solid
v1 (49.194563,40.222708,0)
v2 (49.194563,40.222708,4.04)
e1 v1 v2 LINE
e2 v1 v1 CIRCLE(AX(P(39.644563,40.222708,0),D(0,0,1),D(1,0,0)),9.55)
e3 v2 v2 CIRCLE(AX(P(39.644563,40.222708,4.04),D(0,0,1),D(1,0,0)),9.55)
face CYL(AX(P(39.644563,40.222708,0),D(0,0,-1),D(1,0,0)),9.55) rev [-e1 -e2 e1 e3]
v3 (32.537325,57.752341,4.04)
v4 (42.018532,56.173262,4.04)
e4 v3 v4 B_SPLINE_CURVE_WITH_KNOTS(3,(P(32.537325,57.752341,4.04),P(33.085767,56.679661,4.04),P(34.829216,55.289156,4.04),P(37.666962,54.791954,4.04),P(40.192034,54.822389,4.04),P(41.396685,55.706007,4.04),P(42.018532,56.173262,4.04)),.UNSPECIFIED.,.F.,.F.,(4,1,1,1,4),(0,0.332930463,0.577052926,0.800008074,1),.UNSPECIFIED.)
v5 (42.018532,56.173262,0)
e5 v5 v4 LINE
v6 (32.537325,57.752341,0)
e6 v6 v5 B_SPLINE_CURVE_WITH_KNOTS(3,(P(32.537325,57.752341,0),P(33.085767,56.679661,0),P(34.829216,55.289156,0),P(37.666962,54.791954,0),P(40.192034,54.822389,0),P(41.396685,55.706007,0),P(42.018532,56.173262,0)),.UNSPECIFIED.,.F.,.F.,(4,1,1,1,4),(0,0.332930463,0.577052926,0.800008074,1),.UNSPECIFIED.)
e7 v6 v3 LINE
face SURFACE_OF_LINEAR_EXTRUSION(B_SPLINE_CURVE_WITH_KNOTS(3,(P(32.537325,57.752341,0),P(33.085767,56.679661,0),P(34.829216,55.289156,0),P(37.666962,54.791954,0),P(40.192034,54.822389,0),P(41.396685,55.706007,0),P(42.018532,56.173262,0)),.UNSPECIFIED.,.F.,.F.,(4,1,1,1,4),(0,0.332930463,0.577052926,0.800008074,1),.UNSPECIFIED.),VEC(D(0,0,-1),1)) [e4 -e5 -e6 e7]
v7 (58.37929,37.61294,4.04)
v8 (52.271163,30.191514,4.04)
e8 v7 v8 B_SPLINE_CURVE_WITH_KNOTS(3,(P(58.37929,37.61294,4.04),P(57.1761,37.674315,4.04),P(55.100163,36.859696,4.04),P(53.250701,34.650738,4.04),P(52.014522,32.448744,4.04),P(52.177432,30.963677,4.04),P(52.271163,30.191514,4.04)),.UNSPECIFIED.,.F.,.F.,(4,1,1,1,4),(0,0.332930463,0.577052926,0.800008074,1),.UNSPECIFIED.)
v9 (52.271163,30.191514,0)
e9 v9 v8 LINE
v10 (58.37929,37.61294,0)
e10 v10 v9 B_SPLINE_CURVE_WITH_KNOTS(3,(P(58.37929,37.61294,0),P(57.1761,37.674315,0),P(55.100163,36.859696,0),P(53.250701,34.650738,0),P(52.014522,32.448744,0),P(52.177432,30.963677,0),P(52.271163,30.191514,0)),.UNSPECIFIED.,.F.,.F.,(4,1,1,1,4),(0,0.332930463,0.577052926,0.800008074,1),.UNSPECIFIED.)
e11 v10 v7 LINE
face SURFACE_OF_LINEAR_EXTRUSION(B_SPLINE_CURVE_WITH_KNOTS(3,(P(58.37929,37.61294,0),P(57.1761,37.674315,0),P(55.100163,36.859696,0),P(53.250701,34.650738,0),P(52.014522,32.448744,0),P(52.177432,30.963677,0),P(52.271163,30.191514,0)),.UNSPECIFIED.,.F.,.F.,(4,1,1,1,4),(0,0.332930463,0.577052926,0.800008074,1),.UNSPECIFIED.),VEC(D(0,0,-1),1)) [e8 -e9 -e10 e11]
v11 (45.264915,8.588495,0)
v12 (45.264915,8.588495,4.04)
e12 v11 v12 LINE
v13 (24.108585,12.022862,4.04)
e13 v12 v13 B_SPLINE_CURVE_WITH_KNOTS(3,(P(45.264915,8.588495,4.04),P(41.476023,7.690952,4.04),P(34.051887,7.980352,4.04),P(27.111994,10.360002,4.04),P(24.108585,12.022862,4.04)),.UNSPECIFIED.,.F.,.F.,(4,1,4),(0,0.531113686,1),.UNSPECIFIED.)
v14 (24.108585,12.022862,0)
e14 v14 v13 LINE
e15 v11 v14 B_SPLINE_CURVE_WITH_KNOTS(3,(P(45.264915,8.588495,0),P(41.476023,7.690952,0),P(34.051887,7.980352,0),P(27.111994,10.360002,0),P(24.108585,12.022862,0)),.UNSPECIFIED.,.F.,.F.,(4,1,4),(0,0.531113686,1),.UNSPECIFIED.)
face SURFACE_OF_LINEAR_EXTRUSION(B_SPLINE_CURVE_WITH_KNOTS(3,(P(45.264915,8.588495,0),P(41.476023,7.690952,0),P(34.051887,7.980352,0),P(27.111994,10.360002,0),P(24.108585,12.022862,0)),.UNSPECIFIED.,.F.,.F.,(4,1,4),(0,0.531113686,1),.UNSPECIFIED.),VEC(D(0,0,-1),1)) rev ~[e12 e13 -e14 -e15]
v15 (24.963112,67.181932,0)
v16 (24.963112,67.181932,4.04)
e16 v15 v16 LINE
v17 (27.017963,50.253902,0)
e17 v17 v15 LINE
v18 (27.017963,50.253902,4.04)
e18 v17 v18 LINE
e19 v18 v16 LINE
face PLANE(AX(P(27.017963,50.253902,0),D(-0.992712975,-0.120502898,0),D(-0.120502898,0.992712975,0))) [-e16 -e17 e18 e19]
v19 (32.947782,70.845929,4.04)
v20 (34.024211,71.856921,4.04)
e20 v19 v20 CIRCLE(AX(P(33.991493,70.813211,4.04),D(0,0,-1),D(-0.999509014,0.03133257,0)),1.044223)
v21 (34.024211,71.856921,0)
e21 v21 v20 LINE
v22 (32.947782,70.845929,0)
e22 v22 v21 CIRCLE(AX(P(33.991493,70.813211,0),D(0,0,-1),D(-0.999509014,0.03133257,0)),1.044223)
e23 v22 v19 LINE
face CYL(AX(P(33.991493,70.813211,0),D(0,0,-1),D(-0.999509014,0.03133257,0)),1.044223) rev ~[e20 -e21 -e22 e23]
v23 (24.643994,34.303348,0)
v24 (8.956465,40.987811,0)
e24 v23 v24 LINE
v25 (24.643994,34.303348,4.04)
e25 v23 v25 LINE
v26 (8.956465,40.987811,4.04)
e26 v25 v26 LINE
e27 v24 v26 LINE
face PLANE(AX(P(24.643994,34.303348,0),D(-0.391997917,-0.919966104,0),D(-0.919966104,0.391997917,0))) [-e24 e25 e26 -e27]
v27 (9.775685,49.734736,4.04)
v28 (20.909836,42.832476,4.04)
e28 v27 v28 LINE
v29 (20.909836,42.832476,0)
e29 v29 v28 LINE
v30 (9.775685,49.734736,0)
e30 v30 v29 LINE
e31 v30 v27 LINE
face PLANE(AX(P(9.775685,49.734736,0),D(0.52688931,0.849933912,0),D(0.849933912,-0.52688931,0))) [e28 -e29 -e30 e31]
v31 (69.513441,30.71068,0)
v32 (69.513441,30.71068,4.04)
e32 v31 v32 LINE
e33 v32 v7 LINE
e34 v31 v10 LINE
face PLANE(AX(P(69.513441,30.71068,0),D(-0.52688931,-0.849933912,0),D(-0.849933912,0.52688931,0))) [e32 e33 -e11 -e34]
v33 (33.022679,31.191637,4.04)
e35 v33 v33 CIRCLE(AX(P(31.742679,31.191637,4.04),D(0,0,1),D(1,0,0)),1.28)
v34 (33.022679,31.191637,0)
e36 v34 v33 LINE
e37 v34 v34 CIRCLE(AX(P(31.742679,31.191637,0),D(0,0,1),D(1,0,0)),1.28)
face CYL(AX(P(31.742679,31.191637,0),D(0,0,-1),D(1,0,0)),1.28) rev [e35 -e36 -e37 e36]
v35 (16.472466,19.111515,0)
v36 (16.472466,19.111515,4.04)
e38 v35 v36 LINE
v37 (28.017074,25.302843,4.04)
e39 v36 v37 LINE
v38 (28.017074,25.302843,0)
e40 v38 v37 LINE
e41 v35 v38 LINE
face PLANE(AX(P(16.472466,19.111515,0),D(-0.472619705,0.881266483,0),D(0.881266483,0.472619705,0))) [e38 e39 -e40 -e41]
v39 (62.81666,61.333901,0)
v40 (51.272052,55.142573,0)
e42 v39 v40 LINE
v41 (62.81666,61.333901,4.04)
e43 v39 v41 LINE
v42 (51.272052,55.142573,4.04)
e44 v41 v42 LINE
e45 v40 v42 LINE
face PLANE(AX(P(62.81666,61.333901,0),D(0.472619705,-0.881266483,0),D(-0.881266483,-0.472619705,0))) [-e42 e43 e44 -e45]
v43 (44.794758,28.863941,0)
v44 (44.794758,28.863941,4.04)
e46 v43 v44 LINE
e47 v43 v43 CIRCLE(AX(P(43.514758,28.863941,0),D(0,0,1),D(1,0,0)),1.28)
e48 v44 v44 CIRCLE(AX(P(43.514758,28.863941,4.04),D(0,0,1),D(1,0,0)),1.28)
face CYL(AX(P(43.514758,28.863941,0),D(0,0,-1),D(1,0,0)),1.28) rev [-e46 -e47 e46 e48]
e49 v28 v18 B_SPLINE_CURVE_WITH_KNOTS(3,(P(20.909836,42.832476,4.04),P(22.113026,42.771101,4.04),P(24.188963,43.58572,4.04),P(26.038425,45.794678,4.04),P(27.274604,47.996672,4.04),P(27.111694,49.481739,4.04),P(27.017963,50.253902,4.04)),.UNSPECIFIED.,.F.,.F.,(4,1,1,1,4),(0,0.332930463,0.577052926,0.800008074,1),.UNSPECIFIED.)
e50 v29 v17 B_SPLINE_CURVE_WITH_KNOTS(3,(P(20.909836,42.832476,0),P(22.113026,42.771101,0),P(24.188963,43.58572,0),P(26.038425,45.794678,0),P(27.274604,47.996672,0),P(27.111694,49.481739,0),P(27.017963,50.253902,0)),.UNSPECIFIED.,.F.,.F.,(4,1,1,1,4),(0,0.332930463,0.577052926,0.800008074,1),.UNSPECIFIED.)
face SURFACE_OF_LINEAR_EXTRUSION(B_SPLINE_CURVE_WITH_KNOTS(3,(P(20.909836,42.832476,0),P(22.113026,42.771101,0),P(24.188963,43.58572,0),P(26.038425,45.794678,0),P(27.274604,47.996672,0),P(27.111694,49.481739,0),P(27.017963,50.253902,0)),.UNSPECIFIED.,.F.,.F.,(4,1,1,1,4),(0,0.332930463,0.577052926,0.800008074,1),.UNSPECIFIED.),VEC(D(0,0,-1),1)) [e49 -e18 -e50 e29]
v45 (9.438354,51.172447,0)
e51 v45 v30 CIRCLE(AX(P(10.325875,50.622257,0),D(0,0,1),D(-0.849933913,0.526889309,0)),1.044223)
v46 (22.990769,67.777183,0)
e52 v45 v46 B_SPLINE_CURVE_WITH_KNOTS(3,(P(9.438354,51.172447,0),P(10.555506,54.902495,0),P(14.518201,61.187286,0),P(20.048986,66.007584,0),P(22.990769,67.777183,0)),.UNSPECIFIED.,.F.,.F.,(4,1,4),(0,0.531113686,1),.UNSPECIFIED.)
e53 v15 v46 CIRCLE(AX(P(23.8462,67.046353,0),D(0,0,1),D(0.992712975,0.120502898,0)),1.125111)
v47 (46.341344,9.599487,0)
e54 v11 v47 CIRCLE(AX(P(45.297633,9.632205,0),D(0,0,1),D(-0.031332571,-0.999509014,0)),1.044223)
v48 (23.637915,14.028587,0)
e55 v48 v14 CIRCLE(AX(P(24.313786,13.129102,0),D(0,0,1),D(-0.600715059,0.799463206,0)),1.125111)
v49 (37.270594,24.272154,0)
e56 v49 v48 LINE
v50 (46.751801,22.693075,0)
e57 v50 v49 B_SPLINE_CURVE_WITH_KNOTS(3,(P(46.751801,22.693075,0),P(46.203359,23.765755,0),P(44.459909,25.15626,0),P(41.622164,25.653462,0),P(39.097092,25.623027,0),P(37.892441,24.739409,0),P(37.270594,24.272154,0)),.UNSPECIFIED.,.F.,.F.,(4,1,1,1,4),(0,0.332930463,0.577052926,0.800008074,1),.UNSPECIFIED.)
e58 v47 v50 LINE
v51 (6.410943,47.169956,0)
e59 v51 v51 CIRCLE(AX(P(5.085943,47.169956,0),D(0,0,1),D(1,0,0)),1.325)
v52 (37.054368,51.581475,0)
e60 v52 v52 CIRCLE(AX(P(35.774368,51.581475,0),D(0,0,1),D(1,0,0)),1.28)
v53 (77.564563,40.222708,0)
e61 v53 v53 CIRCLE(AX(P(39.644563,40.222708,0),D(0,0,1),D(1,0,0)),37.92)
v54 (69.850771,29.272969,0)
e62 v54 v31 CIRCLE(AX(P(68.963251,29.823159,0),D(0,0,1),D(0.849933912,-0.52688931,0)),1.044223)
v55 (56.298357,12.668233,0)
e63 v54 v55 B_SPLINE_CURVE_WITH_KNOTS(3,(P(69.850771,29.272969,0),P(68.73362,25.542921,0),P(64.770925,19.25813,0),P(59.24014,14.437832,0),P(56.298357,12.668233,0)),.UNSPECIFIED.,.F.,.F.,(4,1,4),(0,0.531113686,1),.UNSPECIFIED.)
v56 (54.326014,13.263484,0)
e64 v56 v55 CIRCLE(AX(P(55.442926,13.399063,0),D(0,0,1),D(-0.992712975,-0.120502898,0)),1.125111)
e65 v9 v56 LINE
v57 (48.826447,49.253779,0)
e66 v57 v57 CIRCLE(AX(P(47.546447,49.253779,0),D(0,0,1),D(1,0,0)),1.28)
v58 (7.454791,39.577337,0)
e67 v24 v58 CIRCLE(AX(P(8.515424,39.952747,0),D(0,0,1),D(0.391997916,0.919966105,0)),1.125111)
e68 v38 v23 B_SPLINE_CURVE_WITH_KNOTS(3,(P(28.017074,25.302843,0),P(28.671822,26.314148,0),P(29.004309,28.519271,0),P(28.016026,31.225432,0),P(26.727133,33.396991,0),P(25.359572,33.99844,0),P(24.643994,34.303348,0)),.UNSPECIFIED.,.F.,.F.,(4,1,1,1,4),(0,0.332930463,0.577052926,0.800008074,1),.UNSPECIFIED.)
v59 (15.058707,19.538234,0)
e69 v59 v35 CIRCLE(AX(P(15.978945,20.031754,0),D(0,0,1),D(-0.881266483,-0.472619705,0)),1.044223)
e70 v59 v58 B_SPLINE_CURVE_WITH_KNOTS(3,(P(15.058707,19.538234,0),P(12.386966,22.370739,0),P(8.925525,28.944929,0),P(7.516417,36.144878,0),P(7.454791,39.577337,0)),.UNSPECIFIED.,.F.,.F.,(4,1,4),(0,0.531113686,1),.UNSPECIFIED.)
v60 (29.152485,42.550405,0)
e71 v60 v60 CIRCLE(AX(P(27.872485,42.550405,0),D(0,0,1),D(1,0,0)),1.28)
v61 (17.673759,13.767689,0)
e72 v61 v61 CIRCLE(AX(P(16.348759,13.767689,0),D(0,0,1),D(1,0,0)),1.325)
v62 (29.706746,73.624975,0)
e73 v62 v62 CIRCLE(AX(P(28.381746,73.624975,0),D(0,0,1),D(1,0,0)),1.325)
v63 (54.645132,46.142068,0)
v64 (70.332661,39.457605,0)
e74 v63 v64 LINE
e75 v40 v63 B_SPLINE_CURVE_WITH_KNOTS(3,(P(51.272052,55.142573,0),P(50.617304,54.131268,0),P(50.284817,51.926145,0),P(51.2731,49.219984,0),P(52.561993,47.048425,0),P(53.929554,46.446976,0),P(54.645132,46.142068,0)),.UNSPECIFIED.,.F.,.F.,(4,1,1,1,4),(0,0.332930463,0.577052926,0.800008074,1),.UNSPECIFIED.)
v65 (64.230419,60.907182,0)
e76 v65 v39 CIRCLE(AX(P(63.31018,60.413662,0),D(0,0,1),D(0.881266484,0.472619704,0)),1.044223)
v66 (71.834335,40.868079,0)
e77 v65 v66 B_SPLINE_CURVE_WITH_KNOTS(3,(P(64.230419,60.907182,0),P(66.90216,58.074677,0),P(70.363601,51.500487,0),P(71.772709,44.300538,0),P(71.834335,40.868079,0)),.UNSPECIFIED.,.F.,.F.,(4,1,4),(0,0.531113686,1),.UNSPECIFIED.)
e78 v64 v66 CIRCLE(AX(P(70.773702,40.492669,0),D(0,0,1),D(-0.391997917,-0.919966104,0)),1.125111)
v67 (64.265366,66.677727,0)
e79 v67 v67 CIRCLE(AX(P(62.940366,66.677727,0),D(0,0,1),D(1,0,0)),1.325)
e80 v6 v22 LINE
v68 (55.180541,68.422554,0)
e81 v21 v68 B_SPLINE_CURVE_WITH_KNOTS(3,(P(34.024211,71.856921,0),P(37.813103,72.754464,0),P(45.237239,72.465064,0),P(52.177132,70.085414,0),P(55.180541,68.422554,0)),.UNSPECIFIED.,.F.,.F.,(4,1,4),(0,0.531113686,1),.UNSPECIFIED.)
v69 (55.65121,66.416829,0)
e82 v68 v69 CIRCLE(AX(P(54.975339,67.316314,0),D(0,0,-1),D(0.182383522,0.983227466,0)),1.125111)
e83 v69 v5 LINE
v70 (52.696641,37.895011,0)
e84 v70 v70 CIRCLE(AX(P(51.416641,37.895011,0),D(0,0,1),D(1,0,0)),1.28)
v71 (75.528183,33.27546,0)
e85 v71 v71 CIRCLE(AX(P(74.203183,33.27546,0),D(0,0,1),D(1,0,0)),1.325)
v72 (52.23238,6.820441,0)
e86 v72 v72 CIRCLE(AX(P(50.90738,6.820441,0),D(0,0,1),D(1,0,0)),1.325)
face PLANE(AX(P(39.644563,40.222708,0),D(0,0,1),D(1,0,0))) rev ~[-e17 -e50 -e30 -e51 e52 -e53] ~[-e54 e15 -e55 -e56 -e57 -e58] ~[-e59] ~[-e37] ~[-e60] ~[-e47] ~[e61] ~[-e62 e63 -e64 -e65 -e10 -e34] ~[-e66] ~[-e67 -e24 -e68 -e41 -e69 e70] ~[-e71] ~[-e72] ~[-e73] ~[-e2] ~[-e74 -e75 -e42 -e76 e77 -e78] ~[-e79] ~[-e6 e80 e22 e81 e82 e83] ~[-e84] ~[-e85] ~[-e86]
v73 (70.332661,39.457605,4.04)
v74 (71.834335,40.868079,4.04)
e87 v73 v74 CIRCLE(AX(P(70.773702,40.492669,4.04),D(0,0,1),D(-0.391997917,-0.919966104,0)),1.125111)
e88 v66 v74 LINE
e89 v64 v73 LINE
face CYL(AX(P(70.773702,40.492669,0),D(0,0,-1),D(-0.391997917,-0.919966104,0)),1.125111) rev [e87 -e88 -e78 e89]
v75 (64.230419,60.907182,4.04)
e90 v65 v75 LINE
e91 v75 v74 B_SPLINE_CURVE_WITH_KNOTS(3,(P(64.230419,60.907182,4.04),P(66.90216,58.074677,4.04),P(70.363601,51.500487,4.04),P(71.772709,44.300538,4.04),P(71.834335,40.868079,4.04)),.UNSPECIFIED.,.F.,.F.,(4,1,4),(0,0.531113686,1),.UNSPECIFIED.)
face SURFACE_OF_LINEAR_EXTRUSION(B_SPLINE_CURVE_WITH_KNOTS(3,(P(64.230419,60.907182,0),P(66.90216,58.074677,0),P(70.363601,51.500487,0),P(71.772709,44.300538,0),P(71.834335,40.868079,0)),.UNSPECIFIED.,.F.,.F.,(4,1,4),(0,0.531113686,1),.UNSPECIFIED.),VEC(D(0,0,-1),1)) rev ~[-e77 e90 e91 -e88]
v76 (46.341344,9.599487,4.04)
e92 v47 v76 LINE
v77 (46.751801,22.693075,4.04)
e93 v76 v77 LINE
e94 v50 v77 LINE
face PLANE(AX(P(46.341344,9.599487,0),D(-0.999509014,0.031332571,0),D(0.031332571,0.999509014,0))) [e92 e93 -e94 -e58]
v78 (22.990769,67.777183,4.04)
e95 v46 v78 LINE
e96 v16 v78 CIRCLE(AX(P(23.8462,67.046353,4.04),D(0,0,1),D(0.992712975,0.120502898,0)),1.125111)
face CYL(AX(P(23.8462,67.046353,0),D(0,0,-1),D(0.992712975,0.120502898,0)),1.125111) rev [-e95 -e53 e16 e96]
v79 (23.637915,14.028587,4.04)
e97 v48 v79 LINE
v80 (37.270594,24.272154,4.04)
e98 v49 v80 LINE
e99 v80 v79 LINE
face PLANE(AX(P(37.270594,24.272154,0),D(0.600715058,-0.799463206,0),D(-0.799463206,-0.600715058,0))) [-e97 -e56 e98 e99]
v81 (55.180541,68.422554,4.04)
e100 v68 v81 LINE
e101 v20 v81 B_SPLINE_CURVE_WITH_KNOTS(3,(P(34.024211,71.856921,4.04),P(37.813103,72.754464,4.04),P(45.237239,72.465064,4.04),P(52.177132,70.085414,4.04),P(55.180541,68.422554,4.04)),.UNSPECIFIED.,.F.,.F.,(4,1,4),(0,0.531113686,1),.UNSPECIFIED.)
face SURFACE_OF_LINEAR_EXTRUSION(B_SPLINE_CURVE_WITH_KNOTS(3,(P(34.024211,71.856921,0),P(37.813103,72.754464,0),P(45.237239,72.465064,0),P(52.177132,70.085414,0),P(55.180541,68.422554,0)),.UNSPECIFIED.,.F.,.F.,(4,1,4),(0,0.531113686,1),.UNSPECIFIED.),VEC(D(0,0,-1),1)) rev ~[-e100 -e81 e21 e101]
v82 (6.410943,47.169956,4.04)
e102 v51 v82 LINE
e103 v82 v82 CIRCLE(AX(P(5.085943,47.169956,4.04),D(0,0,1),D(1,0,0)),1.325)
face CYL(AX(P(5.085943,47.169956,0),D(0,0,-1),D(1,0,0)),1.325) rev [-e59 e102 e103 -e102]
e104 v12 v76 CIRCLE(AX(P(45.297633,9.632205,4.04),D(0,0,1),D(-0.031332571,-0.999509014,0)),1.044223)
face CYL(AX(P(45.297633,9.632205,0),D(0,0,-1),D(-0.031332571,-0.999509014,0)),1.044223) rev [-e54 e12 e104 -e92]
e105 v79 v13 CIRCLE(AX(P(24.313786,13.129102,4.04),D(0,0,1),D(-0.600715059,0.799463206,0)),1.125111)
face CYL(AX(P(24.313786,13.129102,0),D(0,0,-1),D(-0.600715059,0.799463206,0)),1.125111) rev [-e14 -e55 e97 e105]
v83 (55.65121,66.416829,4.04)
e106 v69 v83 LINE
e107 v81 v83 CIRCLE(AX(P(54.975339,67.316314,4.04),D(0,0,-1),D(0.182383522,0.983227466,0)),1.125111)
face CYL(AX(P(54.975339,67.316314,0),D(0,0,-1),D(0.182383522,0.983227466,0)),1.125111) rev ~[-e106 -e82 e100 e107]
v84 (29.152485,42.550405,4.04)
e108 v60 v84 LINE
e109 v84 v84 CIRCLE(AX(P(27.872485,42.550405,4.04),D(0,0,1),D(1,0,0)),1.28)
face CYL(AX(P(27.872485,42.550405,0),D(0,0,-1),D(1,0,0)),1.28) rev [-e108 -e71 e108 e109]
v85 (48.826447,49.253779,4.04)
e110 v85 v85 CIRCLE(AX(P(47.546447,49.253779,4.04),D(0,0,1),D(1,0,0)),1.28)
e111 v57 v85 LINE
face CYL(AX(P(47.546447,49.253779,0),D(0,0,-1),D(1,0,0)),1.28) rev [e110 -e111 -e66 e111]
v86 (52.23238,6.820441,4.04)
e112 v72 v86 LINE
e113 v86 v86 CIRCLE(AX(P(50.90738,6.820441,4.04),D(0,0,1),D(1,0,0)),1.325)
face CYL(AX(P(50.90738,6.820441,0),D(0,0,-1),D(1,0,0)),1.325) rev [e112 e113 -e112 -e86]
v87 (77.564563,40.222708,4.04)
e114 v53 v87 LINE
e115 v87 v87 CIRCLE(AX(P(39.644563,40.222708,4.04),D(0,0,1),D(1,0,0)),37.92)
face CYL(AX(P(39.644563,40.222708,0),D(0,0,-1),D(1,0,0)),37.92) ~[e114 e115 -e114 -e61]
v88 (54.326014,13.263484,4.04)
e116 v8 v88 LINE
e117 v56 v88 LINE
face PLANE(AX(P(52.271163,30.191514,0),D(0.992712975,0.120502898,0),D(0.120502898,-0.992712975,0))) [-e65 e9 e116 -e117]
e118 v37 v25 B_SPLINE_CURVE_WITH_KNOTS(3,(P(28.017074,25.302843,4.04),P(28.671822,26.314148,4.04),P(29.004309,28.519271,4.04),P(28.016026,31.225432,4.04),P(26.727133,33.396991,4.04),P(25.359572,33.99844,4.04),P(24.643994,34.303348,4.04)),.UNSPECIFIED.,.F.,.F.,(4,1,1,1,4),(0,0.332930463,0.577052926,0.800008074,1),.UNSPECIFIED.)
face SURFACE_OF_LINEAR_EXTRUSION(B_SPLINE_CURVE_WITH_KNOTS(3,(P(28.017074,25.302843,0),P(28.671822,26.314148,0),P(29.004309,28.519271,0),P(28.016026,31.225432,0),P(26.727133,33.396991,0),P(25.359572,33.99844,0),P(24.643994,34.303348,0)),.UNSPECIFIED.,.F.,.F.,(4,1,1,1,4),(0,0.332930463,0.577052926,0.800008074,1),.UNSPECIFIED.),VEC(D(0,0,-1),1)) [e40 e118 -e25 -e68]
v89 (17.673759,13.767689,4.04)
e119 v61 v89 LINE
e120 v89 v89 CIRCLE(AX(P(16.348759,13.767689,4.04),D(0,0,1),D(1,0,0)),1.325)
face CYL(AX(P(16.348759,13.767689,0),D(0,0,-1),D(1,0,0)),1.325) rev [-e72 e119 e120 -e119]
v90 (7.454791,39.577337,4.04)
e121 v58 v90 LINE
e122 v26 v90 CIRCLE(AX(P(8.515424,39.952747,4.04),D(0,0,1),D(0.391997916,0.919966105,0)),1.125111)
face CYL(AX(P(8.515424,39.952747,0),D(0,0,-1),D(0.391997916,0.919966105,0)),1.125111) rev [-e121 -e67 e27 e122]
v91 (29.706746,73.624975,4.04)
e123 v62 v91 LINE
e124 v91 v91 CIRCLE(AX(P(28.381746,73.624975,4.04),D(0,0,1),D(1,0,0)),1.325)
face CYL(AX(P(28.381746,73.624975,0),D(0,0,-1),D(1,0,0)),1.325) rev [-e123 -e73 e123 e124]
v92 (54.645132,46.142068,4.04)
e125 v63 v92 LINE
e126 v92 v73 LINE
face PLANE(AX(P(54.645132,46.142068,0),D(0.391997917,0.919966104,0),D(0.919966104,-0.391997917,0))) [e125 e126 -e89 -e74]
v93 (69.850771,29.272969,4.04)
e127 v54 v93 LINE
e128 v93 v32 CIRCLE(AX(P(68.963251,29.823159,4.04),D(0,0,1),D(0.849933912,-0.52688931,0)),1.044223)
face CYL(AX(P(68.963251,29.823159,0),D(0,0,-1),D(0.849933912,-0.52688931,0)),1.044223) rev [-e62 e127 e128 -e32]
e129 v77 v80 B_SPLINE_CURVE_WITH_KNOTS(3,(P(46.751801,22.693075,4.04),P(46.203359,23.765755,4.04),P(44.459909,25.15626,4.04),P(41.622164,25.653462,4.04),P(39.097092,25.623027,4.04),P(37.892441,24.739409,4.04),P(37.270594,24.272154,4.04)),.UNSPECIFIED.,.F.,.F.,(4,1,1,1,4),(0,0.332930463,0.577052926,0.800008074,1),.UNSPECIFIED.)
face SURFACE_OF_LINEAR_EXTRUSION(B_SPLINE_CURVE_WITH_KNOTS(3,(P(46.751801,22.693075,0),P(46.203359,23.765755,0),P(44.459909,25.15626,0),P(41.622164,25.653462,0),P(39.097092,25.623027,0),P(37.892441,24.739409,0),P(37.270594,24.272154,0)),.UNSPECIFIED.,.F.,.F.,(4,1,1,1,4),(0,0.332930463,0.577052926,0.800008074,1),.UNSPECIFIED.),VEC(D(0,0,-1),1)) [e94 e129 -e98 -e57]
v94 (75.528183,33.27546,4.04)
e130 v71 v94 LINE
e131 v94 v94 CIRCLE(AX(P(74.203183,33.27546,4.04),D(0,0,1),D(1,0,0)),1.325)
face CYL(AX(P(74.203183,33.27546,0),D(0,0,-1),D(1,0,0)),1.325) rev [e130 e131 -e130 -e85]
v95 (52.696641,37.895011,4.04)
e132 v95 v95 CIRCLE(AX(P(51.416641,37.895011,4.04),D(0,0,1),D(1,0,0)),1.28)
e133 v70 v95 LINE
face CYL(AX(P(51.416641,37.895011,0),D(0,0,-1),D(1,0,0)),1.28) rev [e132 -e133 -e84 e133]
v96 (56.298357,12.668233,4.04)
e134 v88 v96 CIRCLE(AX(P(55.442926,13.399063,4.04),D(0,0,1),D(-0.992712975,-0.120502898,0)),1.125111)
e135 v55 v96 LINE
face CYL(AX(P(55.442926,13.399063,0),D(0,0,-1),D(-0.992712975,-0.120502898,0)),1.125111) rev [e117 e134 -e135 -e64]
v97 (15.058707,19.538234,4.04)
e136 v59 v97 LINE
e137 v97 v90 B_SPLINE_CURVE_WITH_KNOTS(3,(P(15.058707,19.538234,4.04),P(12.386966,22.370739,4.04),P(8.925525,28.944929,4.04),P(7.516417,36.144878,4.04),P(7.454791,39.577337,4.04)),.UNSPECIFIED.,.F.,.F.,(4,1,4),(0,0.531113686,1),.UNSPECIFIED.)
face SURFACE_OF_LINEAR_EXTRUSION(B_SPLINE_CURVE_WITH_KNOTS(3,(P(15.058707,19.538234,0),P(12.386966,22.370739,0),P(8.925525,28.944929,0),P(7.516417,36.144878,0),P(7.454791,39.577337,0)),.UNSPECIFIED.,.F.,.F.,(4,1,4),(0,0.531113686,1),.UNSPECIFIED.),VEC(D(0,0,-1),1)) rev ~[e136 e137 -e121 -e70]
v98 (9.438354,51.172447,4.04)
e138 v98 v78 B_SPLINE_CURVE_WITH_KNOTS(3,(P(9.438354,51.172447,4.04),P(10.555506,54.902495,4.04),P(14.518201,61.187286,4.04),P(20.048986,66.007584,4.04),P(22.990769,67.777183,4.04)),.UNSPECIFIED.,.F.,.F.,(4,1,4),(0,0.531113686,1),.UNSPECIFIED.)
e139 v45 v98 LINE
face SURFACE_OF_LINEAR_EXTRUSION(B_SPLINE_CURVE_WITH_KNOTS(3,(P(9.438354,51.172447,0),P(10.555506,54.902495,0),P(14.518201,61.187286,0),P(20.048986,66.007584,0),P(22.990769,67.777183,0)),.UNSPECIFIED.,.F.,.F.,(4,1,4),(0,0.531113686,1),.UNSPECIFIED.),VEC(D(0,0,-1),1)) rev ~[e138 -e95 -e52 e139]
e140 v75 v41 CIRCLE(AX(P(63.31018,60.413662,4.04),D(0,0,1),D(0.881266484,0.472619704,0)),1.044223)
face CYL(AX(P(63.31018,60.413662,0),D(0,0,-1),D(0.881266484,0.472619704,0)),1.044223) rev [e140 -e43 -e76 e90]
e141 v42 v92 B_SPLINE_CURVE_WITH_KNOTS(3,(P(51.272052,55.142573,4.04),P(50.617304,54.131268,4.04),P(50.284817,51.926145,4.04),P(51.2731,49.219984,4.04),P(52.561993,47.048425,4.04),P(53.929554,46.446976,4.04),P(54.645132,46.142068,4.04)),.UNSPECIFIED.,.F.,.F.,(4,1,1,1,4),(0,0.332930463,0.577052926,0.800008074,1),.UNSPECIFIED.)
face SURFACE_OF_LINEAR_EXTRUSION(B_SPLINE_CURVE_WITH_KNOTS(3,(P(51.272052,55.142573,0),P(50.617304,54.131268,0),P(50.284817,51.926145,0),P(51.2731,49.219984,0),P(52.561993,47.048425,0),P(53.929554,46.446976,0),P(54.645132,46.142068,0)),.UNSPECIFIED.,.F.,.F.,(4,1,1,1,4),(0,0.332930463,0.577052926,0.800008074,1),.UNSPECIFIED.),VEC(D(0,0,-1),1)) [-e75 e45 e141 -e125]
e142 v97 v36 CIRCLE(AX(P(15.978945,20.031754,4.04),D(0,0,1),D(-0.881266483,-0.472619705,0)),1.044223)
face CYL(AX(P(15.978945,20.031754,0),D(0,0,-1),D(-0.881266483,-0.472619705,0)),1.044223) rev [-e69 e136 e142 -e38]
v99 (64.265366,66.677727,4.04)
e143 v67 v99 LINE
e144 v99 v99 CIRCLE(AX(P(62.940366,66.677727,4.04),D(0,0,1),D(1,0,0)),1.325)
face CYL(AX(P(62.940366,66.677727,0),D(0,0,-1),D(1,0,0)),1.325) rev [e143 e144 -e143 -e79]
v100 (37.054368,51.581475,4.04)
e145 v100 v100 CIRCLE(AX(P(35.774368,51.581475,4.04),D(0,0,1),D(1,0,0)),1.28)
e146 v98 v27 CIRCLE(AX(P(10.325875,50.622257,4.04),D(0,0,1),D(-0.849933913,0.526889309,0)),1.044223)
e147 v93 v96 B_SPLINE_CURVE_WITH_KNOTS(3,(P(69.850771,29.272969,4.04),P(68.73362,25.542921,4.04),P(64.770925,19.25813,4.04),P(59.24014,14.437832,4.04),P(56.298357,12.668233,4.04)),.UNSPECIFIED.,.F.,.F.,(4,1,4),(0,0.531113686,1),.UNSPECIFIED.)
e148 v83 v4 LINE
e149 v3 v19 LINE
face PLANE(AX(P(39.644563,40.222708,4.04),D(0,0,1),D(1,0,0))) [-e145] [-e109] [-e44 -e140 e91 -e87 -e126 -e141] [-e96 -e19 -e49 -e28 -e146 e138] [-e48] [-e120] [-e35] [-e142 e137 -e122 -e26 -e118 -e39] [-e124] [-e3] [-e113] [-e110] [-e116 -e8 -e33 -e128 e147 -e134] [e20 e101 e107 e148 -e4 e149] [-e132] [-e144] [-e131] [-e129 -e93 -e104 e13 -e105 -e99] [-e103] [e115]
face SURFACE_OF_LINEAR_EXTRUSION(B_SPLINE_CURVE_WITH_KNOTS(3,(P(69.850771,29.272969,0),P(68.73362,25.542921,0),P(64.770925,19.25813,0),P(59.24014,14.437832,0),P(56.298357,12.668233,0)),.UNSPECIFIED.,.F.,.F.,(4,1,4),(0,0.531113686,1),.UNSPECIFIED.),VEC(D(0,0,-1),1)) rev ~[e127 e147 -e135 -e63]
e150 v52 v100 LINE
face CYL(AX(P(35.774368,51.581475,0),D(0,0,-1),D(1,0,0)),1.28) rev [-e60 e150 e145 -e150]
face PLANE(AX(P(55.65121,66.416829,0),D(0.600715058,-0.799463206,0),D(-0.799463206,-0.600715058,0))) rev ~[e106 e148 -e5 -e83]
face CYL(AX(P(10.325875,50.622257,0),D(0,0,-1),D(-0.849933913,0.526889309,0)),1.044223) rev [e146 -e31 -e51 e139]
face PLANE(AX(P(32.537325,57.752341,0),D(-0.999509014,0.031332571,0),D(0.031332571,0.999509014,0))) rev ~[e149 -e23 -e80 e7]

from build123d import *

# Parameters (mm, degrees)
SCHIZZO1_R                   = 37.92
SCHIZZO1_R_2                 = 1.325
SCHIZZO1_R_3                 = 9.55
SCHIZZO1_R_4                 = 1.28
ESTRUSIONE_ESTRUSIONE1_DEPTH = 4.04


with BuildPart() as part:
    # Schizzo1 → Estrusione-Estrusione1 (new body)
    with BuildSketch(Plane.XY):
        with Locations((39.644562935, 40.222708022)):
            Circle(SCHIZZO1_R)
        with Locations((28.381746106, 73.624975266)):
            Circle(SCHIZZO1_R_2, mode=Mode.SUBTRACT)
        with Locations((39.644562935, 40.222708022)):
            Circle(SCHIZZO1_R_3, mode=Mode.SUBTRACT)
        with Locations((35.774368233, 51.581475251)):
            Circle(SCHIZZO1_R_4, mode=Mode.SUBTRACT)
        with Locations((47.546446561, 49.253778566)):
            Circle(SCHIZZO1_R_4, mode=Mode.SUBTRACT)
        with Locations((62.940366498, 66.677727137)):
            Circle(SCHIZZO1_R_2, mode=Mode.SUBTRACT)
        with Locations((51.416641262, 37.895011337)):
            Circle(SCHIZZO1_R_4, mode=Mode.SUBTRACT)
        with Locations((74.203183328, 33.275459892)):
            Circle(SCHIZZO1_R_2, mode=Mode.SUBTRACT)
        with Locations((43.514757637, 28.863940793)):
            Circle(SCHIZZO1_R_4, mode=Mode.SUBTRACT)
        with Locations((50.907379765, 6.820440778)):
            Circle(SCHIZZO1_R_2, mode=Mode.SUBTRACT)
        with Locations((31.74267931, 31.191637478)):
            Circle(SCHIZZO1_R_4, mode=Mode.SUBTRACT)
        with Locations((16.348759372, 13.767688907)):
            Circle(SCHIZZO1_R_2, mode=Mode.SUBTRACT)
        with Locations((27.872484608, 42.550404707)):
            Circle(SCHIZZO1_R_4, mode=Mode.SUBTRACT)
        with Locations((5.085942543, 47.169956152)):
            Circle(SCHIZZO1_R_2, mode=Mode.SUBTRACT)
        with BuildLine():
            Line((32.537324842, 57.752341263), (32.947782143, 70.845929152))
            ThreePointArc((32.947782143, 70.845929152), (33.276613104, 71.574360929), (34.024210756, 71.856921375))
            add(Edge.make_bspline(
                [(34.024210756, 71.856921375), (37.813103061, 72.754463636), (45.237238781, 72.465064372), (52.177131888, 70.085413797), (55.180541117, 68.422554037)],
                knots=[0, 0, 0, 0, 0.531113686, 1, 1, 1, 1], degree=3))
            ThreePointArc((55.180541117, 68.422554037), (56.070695624, 67.573353666), (55.651210487, 66.416829331))
            Line((55.651210487, 66.416829331), (42.018531755, 56.173261728))
            add(Edge.make_bspline(
                [(32.537324842, 57.752341263), (33.085767208, 56.679660611), (34.829216379, 55.289156312), (37.666961886, 54.791954013), (40.192033726, 54.822389026), (41.396684563, 55.706006988), (42.018531755, 56.173261728)],
                knots=[0, 0, 0, 0, 0.332930463, 0.577052926, 0.800008074, 1, 1, 1, 1], degree=3))
        make_face(mode=Mode.SUBTRACT)
        with BuildLine():
            Line((54.645132059, 46.142067569), (70.332661194, 39.457605267))
            ThreePointArc((70.332661194, 39.457605267), (71.543983217, 39.67258265), (71.834335058, 40.868079251))
            add(Edge.make_bspline(
                [(64.230419238, 60.907182464), (66.902159789, 58.074676605), (70.363600535, 51.500486839), (71.772709238, 44.300537822), (71.834335058, 40.868079251)],
                knots=[0, 0, 0, 0, 0.531113686, 1, 1, 1, 1], degree=3))
            ThreePointArc((64.230419238, 60.907182464), (63.611915888, 61.413340799), (62.816659984, 61.333900877))
            Line((62.816659984, 61.333900877), (51.272051595, 55.142573382))
            add(Edge.make_bspline(
                [(51.272051595, 55.142573382), (50.617304082, 54.131268034), (50.284816621, 51.926144612), (51.273099553, 49.219983765), (52.561992967, 47.048424911), (53.929553988, 46.446975665), (54.645132059, 46.142067569)],
                knots=[0, 0, 0, 0, 0.332930463, 0.577052926, 0.800008074, 1, 1, 1, 1], degree=3))
        make_face(mode=Mode.SUBTRACT)
        with BuildLine():
            Line((52.271163239, 30.191513863), (54.326013642, 13.263483958))
            ThreePointArc((54.326013642, 13.263483958), (55.117850528, 12.321937006), (56.298356876, 12.668233236))
            add(Edge.make_bspline(
                [(69.850771418, 29.272969111), (68.733619663, 25.542920992), (64.770924689, 19.258130489), (59.240140286, 14.437832047), (56.298356876, 12.668233236)],
                knots=[0, 0, 0, 0, 0.531113686, 1, 1, 1, 1], degree=3))
            ThreePointArc((69.850771418, 29.272969111), (69.979865719, 30.061687892), (69.513440776, 30.710679746))
            Line((69.513440776, 30.710679746), (58.379289688, 37.61294014))
            add(Edge.make_bspline(
                [(58.379289688, 37.61294014), (57.176099809, 37.674315445), (55.100163177, 36.859696322), (53.250700602, 34.650737773), (52.014522176, 32.448743907), (52.177432361, 30.963676699), (52.271163239, 30.191513863)],
                knots=[0, 0, 0, 0, 0.332930463, 0.577052926, 0.800008074, 1, 1, 1, 1], degree=3))
        make_face(mode=Mode.SUBTRACT)
        with BuildLine():
            Line((37.270594115, 24.272154316), (23.637915383, 14.028586713))
            ThreePointArc((23.637915383, 14.028586713), (23.218430247, 12.872062378), (24.108584753, 12.022862007))
            add(Edge.make_bspline(
                [(45.264915115, 8.588494669), (41.476022809, 7.690952408), (34.051887089, 7.980351672), (27.111993983, 10.360002247), (24.108584753, 12.022862007)],
                knots=[0, 0, 0, 0, 0.531113686, 1, 1, 1, 1], degree=3))
            ThreePointArc((45.264915115, 8.588494669), (46.012512766, 8.871055115), (46.341343727, 9.599486892))
            Line((46.341343727, 9.599486892), (46.751801028, 22.693074781))
            add(Edge.make_bspline(
                [(46.751801028, 22.693074781), (46.203358662, 23.765755433), (44.459909491, 25.156259732), (41.622163984, 25.653462031), (39.097092144, 25.623027018), (37.892441308, 24.739409056), (37.270594115, 24.272154316)],
                knots=[0, 0, 0, 0, 0.332930463, 0.577052926, 0.800008074, 1, 1, 1, 1], degree=3))
        make_face(mode=Mode.SUBTRACT)
        with BuildLine():
            Line((24.643993811, 34.303348475), (8.956464676, 40.987810777))
            ThreePointArc((8.956464676, 40.987810777), (7.745142654, 40.772833394), (7.454790812, 39.577336793))
            add(Edge.make_bspline(
                [(15.058706632, 19.53823358), (12.386966081, 22.370739439), (8.925525335, 28.944929205), (7.516416632, 36.144878222), (7.454790812, 39.577336793)],
                knots=[0, 0, 0, 0, 0.531113686, 1, 1, 1, 1], degree=3))
            ThreePointArc((15.058706632, 19.53823358), (15.677209983, 19.032075245), (16.472465887, 19.111515167))
            Line((16.472465887, 19.111515167), (28.017074275, 25.302842662))
            add(Edge.make_bspline(
                [(28.017074275, 25.302842662), (28.671821788, 26.31414801), (29.004309249, 28.519271432), (28.016026317, 31.225432279), (26.727132903, 33.396991133), (25.359571882, 33.998440379), (24.643993811, 34.303348475)],
                knots=[0, 0, 0, 0, 0.332930463, 0.577052926, 0.800008074, 1, 1, 1, 1], degree=3))
        make_face(mode=Mode.SUBTRACT)
        with BuildLine():
            Line((27.017962631, 50.253902181), (24.963112228, 67.181932086))
            ThreePointArc((24.963112228, 67.181932086), (24.171275342, 68.123479038), (22.990768994, 67.777182808))
            add(Edge.make_bspline(
                [(9.438354453, 51.172446933), (10.555506207, 54.902495052), (14.518201181, 61.187285555), (20.048985584, 66.007583997), (22.990768994, 67.777182808)],
                knots=[0, 0, 0, 0, 0.531113686, 1, 1, 1, 1], degree=3))
            ThreePointArc((9.438354453, 51.172446933), (9.309260152, 50.383728152), (9.775685094, 49.734736298))
            Line((9.775685094, 49.734736298), (20.909836183, 42.832475904))
            add(Edge.make_bspline(
                [(20.909836183, 42.832475904), (22.113026061, 42.771100599), (24.188962693, 43.585719722), (26.038425268, 45.794678271), (27.274603694, 47.996672137), (27.11169351, 49.481739345), (27.017962631, 50.253902181)],
                knots=[0, 0, 0, 0, 0.332930463, 0.577052926, 0.800008074, 1, 1, 1, 1], degree=3))
        make_face(mode=Mode.SUBTRACT)
    extrude(amount=ESTRUSIONE_ESTRUSIONE1_DEPTH)


solid = part.part
